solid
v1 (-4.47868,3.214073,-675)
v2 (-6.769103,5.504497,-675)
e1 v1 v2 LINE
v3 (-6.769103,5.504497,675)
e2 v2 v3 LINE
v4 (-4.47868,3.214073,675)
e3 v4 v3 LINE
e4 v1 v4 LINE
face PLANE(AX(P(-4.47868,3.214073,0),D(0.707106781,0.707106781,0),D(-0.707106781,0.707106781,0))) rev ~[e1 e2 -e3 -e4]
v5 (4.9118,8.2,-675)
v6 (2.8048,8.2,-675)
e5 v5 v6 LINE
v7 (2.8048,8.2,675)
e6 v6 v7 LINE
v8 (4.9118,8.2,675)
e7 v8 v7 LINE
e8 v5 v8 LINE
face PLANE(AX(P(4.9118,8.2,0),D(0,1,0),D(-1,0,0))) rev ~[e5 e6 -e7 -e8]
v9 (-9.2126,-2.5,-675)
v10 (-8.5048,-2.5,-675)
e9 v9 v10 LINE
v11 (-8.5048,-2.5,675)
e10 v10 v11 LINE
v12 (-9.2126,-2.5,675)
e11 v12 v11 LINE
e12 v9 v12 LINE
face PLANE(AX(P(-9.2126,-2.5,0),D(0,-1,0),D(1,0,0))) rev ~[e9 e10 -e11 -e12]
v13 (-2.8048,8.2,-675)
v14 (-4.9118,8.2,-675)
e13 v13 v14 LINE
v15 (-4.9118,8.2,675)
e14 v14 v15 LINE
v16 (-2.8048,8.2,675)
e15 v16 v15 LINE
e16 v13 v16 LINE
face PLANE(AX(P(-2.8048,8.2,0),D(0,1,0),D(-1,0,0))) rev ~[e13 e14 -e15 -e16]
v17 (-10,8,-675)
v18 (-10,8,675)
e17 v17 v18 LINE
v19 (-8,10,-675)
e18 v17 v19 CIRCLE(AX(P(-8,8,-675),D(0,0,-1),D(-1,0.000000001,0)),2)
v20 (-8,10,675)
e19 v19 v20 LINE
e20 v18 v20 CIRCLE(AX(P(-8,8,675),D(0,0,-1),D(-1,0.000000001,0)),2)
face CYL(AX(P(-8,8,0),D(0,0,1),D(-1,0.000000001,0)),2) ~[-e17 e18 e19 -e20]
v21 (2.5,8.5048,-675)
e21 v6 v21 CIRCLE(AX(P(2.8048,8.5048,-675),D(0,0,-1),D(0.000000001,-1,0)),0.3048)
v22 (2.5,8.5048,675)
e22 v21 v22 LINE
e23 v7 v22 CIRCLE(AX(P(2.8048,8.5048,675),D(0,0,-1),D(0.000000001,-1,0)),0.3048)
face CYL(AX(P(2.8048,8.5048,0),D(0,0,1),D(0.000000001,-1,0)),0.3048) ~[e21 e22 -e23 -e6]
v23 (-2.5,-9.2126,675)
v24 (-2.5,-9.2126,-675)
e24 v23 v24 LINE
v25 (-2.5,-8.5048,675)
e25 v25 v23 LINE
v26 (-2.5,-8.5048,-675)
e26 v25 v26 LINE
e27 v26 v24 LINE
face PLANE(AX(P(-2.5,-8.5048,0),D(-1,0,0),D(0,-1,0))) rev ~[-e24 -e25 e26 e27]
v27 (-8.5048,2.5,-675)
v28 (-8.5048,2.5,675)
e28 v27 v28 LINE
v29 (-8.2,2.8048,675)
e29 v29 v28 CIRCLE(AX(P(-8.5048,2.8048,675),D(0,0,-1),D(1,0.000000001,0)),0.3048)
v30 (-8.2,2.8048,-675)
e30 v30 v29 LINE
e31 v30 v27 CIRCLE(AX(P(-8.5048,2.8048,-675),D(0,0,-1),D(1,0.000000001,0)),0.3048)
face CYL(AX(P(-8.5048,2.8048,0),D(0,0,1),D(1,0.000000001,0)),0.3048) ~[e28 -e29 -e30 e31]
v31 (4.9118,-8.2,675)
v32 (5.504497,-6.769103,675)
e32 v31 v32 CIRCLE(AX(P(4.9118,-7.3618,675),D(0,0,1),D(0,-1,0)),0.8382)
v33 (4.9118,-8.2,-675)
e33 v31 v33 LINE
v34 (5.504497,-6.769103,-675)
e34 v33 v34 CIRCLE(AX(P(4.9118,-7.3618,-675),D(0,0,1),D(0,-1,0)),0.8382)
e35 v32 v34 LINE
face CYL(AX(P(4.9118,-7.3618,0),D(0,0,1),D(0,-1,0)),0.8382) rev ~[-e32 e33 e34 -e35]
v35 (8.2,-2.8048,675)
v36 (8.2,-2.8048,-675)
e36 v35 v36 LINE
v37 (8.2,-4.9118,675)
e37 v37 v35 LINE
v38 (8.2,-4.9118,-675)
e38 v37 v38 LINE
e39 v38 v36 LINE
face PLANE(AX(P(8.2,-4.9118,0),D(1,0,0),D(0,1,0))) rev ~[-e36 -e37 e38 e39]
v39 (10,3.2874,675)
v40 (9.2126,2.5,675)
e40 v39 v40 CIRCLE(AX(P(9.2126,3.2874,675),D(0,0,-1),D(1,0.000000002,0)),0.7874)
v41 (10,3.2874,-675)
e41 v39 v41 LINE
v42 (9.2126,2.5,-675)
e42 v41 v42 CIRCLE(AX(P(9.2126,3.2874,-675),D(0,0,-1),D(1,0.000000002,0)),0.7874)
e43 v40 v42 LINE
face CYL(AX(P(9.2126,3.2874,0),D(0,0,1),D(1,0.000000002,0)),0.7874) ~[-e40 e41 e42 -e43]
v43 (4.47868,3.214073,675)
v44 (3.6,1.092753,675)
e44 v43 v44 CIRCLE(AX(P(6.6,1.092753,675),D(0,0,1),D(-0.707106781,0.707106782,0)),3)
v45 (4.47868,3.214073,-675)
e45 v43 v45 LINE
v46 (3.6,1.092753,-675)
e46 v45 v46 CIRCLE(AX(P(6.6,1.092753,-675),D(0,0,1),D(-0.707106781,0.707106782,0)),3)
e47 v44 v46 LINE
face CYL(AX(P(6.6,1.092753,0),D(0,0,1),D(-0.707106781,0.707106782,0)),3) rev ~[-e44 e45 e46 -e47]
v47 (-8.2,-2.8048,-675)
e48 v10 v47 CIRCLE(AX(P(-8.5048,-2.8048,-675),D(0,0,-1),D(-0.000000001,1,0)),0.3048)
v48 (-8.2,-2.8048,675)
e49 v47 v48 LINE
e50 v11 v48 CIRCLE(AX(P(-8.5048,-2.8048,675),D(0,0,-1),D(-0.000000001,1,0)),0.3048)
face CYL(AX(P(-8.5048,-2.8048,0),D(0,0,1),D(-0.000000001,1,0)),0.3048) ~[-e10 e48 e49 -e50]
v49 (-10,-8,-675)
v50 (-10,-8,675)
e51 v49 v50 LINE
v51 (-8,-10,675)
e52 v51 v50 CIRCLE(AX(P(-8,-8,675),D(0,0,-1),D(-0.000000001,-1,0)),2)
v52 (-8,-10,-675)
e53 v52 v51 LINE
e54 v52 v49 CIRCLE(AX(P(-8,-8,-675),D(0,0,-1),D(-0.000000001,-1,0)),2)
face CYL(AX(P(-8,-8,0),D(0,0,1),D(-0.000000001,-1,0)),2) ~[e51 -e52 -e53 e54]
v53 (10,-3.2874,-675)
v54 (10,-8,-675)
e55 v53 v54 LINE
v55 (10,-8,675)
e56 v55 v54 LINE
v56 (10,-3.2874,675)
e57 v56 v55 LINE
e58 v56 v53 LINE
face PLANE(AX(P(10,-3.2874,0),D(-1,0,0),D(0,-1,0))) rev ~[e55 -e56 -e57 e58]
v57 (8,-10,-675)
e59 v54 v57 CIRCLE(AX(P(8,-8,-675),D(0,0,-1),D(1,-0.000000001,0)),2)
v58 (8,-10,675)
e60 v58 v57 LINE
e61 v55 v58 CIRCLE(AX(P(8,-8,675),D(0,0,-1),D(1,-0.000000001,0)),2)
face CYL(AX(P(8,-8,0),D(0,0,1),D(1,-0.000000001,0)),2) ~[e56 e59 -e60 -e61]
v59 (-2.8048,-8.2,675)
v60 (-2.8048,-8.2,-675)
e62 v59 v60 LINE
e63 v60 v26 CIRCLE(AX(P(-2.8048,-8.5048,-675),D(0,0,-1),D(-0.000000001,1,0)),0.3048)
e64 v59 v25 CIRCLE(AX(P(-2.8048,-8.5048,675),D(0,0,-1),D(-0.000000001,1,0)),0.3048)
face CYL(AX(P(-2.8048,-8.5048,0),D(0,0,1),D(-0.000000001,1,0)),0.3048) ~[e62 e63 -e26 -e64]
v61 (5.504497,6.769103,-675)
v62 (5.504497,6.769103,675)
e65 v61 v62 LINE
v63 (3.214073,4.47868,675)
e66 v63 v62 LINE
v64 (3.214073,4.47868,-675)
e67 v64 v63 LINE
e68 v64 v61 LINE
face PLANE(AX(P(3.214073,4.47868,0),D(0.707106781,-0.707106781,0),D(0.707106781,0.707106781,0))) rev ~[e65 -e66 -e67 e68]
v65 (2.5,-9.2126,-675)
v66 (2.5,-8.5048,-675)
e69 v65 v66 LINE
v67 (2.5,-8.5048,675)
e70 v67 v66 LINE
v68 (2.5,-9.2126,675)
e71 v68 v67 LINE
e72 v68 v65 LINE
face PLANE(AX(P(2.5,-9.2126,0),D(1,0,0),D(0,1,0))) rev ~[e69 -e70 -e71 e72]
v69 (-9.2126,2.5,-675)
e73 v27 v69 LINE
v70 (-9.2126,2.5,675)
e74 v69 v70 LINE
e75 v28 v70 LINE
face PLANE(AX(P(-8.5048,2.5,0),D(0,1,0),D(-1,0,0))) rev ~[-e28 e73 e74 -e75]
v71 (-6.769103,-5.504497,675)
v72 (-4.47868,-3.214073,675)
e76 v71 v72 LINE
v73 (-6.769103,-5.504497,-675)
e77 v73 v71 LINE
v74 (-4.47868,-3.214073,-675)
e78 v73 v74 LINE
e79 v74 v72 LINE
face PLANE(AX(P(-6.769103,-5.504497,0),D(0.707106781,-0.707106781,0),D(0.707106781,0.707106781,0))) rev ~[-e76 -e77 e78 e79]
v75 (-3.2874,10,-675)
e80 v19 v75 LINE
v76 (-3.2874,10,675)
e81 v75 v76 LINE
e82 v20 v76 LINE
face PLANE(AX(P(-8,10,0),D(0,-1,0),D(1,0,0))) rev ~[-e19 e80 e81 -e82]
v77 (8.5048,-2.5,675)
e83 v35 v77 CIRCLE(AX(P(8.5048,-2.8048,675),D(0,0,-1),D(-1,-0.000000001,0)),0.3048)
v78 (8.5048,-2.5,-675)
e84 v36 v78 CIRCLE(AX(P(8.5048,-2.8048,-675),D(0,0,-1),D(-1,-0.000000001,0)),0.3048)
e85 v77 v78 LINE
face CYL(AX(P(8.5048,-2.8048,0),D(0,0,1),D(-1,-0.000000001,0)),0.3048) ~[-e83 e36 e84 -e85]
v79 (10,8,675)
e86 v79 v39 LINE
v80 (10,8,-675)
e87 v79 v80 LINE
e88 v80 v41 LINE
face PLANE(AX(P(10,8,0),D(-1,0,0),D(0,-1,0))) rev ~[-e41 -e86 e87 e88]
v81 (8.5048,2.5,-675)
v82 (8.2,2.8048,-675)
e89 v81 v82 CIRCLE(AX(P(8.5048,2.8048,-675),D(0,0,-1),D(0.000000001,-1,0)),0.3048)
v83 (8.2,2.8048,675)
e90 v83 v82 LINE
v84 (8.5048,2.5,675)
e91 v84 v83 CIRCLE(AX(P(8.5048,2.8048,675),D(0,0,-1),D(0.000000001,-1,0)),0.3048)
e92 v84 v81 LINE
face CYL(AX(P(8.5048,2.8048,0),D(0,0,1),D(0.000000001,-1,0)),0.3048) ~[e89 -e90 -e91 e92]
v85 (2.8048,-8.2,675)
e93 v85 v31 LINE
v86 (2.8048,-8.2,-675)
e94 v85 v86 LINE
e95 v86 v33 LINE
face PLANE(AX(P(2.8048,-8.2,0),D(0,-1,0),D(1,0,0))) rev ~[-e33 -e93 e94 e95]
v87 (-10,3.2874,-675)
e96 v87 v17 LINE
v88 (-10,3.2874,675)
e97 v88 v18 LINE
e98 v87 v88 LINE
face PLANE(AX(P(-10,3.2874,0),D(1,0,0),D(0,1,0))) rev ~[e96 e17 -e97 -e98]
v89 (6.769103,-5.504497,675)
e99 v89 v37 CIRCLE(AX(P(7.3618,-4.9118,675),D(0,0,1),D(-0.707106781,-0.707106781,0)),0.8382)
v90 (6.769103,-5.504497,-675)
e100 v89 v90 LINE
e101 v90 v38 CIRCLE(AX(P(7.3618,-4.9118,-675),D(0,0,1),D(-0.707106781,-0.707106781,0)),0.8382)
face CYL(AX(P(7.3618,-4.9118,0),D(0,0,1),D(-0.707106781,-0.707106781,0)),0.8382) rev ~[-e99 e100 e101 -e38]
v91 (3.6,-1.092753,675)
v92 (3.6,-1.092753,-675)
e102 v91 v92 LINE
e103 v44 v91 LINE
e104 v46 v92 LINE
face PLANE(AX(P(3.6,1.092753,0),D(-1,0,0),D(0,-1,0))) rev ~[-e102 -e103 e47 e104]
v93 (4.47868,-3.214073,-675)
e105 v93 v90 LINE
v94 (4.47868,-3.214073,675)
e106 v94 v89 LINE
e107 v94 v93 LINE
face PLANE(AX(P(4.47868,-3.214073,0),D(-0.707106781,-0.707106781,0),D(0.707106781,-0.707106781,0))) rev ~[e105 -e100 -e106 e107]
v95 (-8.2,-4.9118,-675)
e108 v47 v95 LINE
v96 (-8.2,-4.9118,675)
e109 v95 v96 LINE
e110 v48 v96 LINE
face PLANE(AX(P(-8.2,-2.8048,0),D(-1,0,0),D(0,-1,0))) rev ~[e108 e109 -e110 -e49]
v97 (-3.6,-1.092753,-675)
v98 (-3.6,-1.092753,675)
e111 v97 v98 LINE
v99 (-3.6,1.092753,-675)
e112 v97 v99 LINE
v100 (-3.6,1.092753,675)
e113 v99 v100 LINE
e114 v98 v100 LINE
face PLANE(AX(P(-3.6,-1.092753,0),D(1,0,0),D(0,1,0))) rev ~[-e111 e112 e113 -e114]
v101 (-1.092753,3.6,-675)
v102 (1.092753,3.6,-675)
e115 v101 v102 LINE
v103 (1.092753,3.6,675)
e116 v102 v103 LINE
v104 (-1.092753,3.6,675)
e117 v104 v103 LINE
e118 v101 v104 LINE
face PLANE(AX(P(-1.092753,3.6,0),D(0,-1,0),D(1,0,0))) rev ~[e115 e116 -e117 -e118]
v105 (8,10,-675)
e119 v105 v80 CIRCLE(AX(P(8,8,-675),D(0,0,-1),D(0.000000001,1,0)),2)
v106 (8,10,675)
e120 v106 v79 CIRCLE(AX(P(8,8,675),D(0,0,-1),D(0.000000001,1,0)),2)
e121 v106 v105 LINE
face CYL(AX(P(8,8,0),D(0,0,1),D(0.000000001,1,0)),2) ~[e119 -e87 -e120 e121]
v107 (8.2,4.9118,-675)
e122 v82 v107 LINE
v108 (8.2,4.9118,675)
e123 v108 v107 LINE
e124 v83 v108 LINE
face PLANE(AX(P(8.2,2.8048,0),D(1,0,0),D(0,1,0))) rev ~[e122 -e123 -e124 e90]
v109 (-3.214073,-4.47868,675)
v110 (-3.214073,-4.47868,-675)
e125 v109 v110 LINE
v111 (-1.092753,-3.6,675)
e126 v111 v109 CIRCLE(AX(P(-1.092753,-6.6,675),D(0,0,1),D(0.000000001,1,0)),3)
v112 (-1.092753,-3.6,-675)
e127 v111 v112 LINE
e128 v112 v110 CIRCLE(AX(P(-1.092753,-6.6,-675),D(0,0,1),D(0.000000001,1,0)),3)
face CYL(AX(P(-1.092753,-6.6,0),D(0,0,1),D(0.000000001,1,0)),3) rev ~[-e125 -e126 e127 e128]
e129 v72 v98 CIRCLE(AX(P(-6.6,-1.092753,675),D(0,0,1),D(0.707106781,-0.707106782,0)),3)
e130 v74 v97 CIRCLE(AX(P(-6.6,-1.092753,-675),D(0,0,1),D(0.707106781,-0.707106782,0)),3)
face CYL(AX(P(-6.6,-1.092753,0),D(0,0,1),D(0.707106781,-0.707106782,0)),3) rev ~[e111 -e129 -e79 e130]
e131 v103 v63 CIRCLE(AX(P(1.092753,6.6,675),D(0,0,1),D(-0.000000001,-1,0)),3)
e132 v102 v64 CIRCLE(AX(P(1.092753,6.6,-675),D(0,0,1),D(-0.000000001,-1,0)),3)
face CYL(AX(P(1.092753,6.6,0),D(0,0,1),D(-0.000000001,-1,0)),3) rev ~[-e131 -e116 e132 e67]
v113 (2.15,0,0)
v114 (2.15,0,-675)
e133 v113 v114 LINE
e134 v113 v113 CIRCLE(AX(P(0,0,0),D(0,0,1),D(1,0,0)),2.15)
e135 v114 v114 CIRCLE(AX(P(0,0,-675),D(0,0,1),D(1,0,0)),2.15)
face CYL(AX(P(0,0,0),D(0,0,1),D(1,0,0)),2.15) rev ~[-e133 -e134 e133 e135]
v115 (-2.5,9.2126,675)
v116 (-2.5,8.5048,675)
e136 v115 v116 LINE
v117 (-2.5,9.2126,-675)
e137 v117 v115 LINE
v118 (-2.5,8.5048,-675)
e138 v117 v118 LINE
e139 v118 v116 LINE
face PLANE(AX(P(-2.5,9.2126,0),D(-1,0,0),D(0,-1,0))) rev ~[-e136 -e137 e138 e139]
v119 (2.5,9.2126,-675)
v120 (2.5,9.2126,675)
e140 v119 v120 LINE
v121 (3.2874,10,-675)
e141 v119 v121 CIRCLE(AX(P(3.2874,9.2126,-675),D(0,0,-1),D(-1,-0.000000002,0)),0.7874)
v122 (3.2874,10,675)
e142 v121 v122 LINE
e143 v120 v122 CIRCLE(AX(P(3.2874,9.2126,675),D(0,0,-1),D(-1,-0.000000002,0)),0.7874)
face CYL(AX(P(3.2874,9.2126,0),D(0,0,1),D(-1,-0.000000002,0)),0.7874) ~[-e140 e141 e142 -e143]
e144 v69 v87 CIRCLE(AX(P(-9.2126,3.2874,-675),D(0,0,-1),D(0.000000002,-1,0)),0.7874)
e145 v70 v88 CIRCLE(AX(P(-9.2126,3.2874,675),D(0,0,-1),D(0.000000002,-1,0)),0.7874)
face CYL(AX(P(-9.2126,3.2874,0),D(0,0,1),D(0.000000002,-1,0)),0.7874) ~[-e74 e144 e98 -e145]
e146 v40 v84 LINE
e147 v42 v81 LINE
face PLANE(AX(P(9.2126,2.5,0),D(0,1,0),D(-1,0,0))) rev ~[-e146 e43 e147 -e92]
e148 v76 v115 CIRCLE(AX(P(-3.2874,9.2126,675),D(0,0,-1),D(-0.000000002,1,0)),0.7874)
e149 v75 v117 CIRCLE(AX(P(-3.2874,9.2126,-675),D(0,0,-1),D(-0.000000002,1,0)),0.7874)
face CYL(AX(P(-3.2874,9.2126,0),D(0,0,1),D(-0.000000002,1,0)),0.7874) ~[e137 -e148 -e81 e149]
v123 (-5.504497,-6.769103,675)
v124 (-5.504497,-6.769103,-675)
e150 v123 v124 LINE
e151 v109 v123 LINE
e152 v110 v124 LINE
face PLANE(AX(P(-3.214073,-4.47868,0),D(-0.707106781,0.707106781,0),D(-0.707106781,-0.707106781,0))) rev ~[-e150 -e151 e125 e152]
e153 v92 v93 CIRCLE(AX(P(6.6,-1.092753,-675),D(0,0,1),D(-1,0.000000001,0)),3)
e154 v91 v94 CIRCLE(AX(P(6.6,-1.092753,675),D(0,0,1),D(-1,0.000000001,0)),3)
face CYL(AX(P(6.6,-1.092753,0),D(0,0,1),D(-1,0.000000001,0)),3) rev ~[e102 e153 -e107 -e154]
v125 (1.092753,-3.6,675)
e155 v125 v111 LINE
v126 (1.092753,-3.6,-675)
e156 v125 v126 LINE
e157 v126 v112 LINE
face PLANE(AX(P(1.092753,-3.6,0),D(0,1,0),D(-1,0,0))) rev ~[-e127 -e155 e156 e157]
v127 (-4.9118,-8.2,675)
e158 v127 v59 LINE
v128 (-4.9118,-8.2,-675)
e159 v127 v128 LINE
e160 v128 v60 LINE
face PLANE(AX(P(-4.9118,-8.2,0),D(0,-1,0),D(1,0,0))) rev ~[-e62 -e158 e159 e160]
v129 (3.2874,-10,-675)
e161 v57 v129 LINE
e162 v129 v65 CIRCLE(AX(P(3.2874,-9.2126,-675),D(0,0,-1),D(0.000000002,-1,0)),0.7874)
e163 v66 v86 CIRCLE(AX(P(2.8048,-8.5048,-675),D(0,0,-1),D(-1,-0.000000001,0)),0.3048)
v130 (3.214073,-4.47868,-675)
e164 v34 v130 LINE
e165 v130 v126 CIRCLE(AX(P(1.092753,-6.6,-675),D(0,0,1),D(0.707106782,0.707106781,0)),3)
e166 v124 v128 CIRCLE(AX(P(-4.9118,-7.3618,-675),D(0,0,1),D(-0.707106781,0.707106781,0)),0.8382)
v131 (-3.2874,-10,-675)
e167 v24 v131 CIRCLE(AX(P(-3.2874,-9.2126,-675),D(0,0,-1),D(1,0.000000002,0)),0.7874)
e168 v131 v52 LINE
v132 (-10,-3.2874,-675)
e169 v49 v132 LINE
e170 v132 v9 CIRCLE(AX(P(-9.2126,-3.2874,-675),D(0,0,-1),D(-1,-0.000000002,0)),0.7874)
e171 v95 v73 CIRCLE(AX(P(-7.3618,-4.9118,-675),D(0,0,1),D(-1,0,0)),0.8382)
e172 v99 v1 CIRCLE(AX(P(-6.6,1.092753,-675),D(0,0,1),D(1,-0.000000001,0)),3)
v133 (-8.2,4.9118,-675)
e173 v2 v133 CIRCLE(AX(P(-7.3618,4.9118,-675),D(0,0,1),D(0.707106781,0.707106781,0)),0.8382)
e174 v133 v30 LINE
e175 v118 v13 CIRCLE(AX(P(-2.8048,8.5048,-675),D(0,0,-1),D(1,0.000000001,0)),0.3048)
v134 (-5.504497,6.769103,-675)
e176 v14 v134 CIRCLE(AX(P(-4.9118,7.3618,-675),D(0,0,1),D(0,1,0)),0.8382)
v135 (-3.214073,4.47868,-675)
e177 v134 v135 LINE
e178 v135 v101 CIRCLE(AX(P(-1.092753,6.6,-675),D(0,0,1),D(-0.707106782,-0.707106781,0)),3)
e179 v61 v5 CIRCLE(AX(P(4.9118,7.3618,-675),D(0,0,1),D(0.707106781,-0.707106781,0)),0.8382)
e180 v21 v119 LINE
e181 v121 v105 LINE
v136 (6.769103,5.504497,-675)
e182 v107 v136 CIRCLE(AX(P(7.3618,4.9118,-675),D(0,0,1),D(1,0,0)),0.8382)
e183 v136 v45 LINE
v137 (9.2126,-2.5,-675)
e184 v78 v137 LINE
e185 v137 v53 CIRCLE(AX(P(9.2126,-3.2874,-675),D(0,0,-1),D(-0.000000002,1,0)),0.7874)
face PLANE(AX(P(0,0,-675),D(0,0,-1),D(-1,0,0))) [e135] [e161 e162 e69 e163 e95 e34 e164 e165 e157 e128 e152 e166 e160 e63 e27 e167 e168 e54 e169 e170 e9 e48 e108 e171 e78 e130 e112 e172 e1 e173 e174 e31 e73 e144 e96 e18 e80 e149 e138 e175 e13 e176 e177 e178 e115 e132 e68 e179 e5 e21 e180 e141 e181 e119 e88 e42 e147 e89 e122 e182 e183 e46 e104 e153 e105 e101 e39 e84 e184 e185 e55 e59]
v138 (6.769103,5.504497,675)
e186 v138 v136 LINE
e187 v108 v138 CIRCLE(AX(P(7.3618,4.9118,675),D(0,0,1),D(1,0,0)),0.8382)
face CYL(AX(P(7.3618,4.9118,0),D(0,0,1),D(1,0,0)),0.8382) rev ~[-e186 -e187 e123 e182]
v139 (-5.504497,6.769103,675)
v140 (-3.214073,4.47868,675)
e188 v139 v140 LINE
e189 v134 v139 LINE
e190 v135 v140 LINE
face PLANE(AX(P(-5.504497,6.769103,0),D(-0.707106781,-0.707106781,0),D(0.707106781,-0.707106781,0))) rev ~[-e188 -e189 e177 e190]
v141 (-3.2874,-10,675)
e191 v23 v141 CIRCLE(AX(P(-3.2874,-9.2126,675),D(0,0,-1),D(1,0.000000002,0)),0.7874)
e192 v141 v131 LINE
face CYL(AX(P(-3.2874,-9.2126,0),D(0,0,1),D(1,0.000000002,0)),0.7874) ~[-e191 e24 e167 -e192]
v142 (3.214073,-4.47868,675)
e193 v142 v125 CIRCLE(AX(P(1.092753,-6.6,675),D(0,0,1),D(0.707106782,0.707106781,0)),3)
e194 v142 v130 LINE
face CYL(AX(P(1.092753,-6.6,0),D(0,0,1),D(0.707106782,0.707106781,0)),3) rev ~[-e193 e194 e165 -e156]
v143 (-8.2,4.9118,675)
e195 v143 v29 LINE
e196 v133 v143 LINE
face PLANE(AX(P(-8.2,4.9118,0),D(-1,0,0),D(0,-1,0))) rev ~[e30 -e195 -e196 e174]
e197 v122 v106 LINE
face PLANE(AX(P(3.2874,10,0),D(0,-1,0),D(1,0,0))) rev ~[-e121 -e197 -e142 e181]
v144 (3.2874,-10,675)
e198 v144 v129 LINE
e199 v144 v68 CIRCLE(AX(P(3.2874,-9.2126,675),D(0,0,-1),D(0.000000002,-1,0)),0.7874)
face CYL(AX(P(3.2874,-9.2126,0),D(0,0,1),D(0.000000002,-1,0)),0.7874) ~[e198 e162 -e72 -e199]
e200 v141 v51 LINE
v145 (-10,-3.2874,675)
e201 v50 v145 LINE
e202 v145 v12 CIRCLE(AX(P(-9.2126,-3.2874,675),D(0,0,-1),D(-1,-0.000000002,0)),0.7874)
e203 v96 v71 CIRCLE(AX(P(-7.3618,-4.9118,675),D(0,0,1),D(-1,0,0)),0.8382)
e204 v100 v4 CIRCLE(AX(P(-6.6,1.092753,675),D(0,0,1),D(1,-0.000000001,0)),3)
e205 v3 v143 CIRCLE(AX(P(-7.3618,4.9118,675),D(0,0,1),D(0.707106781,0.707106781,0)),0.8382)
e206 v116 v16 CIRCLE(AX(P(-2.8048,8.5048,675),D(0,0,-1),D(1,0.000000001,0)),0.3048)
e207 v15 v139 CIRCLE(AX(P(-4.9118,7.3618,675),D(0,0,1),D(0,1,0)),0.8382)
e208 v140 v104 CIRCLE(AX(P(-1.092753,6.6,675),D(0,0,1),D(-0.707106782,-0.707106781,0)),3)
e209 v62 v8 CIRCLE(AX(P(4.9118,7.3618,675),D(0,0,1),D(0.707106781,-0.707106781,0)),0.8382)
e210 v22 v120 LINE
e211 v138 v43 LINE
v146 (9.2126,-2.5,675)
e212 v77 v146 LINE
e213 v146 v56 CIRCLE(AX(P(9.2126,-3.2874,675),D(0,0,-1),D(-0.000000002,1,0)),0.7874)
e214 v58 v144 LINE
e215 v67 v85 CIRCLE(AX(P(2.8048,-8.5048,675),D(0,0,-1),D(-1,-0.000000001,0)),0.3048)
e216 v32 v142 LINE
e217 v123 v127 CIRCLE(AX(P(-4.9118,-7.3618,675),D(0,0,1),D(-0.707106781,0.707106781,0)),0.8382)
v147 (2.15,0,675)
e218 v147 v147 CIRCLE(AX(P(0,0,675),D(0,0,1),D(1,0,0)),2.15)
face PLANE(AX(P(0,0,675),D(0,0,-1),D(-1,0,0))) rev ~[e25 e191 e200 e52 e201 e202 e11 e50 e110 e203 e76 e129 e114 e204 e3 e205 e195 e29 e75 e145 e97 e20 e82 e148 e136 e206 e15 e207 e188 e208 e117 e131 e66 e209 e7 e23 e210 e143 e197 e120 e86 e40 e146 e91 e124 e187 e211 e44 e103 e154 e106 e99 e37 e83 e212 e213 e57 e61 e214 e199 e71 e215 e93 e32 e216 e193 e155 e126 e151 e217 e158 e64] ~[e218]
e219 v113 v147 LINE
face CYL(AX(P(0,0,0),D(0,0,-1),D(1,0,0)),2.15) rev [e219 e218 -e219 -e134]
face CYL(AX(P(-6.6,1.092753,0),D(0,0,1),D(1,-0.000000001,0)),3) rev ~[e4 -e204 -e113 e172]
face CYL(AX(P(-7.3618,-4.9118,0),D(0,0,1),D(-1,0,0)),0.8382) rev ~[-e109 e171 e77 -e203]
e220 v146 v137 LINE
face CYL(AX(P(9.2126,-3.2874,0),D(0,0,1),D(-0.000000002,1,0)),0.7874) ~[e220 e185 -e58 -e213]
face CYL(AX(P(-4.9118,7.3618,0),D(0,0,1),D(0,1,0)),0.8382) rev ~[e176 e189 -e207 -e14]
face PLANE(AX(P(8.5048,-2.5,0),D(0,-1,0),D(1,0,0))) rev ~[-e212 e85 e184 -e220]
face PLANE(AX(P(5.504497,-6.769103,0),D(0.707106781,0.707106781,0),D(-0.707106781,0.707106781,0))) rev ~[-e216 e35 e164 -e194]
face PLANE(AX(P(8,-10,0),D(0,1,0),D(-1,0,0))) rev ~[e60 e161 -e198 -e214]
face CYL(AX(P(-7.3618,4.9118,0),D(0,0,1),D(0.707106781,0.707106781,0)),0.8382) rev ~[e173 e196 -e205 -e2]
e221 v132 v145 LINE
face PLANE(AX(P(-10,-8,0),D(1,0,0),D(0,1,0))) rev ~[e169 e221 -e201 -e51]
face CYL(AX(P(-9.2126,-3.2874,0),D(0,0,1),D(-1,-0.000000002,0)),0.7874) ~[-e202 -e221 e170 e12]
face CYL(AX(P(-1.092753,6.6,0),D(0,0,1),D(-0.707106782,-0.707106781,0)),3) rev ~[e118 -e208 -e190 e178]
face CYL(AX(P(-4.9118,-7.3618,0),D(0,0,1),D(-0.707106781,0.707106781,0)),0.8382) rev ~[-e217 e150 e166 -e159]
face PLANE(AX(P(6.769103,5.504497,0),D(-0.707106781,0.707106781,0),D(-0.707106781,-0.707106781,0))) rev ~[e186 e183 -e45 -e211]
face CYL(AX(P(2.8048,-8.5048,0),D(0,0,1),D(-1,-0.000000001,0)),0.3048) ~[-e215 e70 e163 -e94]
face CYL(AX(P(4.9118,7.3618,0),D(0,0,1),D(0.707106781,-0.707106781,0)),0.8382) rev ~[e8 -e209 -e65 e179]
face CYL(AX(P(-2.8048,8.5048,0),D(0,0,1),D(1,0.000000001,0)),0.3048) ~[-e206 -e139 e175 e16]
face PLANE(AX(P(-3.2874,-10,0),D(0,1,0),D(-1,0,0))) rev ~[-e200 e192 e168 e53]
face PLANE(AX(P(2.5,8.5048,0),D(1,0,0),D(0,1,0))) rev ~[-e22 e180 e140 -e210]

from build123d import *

# Parameters (mm, degrees)
SKETCH3_R                = 2.15
BOSS_EXTRUDE1_DEPTH      = 675
BOSS_EXTRUDE1_DEPTH_BACK = 675


with BuildPart() as part:
    # Sketch3 → Boss-Extrude1 (new body, two sides)
    with BuildSketch(Plane.XY) as boss_extrude1_sk:
        with BuildLine():
            Line((3.2874, 10), (8, 10))
            ThreePointArc((8, 10), (9.414213562, 9.414213562), (10, 8))
            Line((10, 8), (10, 3.2874))
            ThreePointArc((10, 3.2874), (9.76937588, 2.73062412), (9.2126, 2.5))
            Line((9.2126, 2.5), (8.5048, 2.5))
            ThreePointArc((8.5048, 2.5), (8.289273853, 2.589273853), (8.2, 2.8048))
            Line((8.2, 2.8048), (8.2, 4.9118))
            ThreePointArc((8.2, 4.9118), (7.682565253, 5.686195824), (6.769103096, 5.504496904))
            Line((6.769103096, 5.504496904), (4.478679656, 3.214073464))
            ThreePointArc((4.478679656, 3.214073464), (3.828361402, 2.240803418), (3.6, 1.092753121))
            Line((3.6, 1.092753121), (3.6, -1.092753121))
            ThreePointArc((3.6, -1.092753121), (3.828361402, -2.240803418), (4.478679656, -3.214073464))
            Line((4.478679656, -3.214073464), (6.769103096, -5.504496904))
            ThreePointArc((6.769103096, -5.504496904), (7.682565253, -5.686195824), (8.2, -4.9118))
            Line((8.2, -4.9118), (8.2, -2.8048))
            ThreePointArc((8.2, -2.8048), (8.289273853, -2.589273853), (8.5048, -2.5))
            Line((8.5048, -2.5), (9.2126, -2.5))
            ThreePointArc((9.2126, -2.5), (9.76937588, -2.73062412), (10, -3.2874))
            Line((10, -3.2874), (10, -8))
            ThreePointArc((10, -8), (9.414213562, -9.414213562), (8, -10))
            Line((8, -10), (3.2874, -10))
            ThreePointArc((3.2874, -10), (2.73062412, -9.76937588), (2.5, -9.2126))
            Line((2.5, -9.2126), (2.5, -8.5048))
            ThreePointArc((2.5, -8.5048), (2.589273853, -8.289273853), (2.8048, -8.2))
            Line((2.8048, -8.2), (4.9118, -8.2))
            ThreePointArc((4.9118, -8.2), (5.686195824, -7.682565253), (5.504496904, -6.769103096))
            Line((5.504496904, -6.769103096), (3.214073464, -4.478679656))
            ThreePointArc((3.214073464, -4.478679656), (2.240803418, -3.828361402), (1.092753121, -3.6))
            Line((1.092753121, -3.6), (-1.092753121, -3.6))
            ThreePointArc((-1.092753121, -3.6), (-2.240803418, -3.828361402), (-3.214073464, -4.478679656))
            Line((-3.214073464, -4.478679656), (-5.504496904, -6.769103096))
            ThreePointArc((-5.504496904, -6.769103096), (-5.686195824, -7.682565253), (-4.9118, -8.2))
            Line((-4.9118, -8.2), (-2.8048, -8.2))
            ThreePointArc((-2.8048, -8.2), (-2.589273853, -8.289273853), (-2.5, -8.5048))
            Line((-2.5, -8.5048), (-2.5, -9.2126))
            ThreePointArc((-2.5, -9.2126), (-2.73062412, -9.76937588), (-3.2874, -10))
            Line((-3.2874, -10), (-8, -10))
            ThreePointArc((-8, -10), (-9.414213562, -9.414213562), (-10, -8))
            Line((-10, -8), (-10, -3.2874))
            ThreePointArc((-10, -3.2874), (-9.76937588, -2.73062412), (-9.2126, -2.5))
            Line((-9.2126, -2.5), (-8.5048, -2.5))
            ThreePointArc((-8.5048, -2.5), (-8.289273853, -2.589273853), (-8.2, -2.8048))
            Line((-8.2, -2.8048), (-8.2, -4.9118))
            ThreePointArc((-8.2, -4.9118), (-7.682565253, -5.686195824), (-6.769103096, -5.504496904))
            Line((-6.769103096, -5.504496904), (-4.478679656, -3.214073464))
            ThreePointArc((-4.478679656, -3.214073464), (-3.828361402, -2.240803418), (-3.6, -1.092753121))
            Line((-3.6, -1.092753121), (-3.6, 1.092753121))
            ThreePointArc((-3.6, 1.092753121), (-3.828361402, 2.240803418), (-4.478679656, 3.214073464))
            Line((-4.478679656, 3.214073464), (-6.769103096, 5.504496904))
            ThreePointArc((-6.769103096, 5.504496904), (-7.682565253, 5.686195824), (-8.2, 4.9118))
            Line((-8.2, 4.9118), (-8.2, 2.8048))
            ThreePointArc((-8.2, 2.8048), (-8.289273853, 2.589273853), (-8.5048, 2.5))
            Line((-8.5048, 2.5), (-9.2126, 2.5))
            ThreePointArc((-9.2126, 2.5), (-9.76937588, 2.73062412), (-10, 3.2874))
            Line((-10, 3.2874), (-10, 8))
            ThreePointArc((-10, 8), (-9.414213562, 9.414213562), (-8, 10))
            Line((-8, 10), (-3.2874, 10))
            ThreePointArc((-3.2874, 10), (-2.73062412, 9.76937588), (-2.5, 9.2126))
            Line((-2.5, 9.2126), (-2.5, 8.5048))
            ThreePointArc((-2.5, 8.5048), (-2.589273853, 8.289273853), (-2.8048, 8.2))
            Line((-2.8048, 8.2), (-4.9118, 8.2))
            ThreePointArc((-4.9118, 8.2), (-5.686195824, 7.682565253), (-5.504496904, 6.769103096))
            Line((-5.504496904, 6.769103096), (-3.214073464, 4.478679656))
            ThreePointArc((-3.214073464, 4.478679656), (-2.240803418, 3.828361402), (-1.092753121, 3.6))
            Line((-1.092753121, 3.6), (1.092753121, 3.6))
            ThreePointArc((1.092753121, 3.6), (2.240803418, 3.828361402), (3.214073464, 4.478679656))
            Line((3.214073464, 4.478679656), (5.504496904, 6.769103096))
            ThreePointArc((5.504496904, 6.769103096), (5.686195824, 7.682565253), (4.9118, 8.2))
            Line((4.9118, 8.2), (2.8048, 8.2))
            ThreePointArc((2.8048, 8.2), (2.589273853, 8.289273853), (2.5, 8.5048))
            Line((2.5, 8.5048), (2.5, 9.2126))
            ThreePointArc((2.5, 9.2126), (2.73062412, 9.76937588), (3.2874, 10))
        make_face()
        Circle(SKETCH3_R, mode=Mode.SUBTRACT)
    extrude(amount=BOSS_EXTRUDE1_DEPTH)
    extrude(boss_extrude1_sk.sketch, amount=-BOSS_EXTRUDE1_DEPTH_BACK)


solid = part.part
